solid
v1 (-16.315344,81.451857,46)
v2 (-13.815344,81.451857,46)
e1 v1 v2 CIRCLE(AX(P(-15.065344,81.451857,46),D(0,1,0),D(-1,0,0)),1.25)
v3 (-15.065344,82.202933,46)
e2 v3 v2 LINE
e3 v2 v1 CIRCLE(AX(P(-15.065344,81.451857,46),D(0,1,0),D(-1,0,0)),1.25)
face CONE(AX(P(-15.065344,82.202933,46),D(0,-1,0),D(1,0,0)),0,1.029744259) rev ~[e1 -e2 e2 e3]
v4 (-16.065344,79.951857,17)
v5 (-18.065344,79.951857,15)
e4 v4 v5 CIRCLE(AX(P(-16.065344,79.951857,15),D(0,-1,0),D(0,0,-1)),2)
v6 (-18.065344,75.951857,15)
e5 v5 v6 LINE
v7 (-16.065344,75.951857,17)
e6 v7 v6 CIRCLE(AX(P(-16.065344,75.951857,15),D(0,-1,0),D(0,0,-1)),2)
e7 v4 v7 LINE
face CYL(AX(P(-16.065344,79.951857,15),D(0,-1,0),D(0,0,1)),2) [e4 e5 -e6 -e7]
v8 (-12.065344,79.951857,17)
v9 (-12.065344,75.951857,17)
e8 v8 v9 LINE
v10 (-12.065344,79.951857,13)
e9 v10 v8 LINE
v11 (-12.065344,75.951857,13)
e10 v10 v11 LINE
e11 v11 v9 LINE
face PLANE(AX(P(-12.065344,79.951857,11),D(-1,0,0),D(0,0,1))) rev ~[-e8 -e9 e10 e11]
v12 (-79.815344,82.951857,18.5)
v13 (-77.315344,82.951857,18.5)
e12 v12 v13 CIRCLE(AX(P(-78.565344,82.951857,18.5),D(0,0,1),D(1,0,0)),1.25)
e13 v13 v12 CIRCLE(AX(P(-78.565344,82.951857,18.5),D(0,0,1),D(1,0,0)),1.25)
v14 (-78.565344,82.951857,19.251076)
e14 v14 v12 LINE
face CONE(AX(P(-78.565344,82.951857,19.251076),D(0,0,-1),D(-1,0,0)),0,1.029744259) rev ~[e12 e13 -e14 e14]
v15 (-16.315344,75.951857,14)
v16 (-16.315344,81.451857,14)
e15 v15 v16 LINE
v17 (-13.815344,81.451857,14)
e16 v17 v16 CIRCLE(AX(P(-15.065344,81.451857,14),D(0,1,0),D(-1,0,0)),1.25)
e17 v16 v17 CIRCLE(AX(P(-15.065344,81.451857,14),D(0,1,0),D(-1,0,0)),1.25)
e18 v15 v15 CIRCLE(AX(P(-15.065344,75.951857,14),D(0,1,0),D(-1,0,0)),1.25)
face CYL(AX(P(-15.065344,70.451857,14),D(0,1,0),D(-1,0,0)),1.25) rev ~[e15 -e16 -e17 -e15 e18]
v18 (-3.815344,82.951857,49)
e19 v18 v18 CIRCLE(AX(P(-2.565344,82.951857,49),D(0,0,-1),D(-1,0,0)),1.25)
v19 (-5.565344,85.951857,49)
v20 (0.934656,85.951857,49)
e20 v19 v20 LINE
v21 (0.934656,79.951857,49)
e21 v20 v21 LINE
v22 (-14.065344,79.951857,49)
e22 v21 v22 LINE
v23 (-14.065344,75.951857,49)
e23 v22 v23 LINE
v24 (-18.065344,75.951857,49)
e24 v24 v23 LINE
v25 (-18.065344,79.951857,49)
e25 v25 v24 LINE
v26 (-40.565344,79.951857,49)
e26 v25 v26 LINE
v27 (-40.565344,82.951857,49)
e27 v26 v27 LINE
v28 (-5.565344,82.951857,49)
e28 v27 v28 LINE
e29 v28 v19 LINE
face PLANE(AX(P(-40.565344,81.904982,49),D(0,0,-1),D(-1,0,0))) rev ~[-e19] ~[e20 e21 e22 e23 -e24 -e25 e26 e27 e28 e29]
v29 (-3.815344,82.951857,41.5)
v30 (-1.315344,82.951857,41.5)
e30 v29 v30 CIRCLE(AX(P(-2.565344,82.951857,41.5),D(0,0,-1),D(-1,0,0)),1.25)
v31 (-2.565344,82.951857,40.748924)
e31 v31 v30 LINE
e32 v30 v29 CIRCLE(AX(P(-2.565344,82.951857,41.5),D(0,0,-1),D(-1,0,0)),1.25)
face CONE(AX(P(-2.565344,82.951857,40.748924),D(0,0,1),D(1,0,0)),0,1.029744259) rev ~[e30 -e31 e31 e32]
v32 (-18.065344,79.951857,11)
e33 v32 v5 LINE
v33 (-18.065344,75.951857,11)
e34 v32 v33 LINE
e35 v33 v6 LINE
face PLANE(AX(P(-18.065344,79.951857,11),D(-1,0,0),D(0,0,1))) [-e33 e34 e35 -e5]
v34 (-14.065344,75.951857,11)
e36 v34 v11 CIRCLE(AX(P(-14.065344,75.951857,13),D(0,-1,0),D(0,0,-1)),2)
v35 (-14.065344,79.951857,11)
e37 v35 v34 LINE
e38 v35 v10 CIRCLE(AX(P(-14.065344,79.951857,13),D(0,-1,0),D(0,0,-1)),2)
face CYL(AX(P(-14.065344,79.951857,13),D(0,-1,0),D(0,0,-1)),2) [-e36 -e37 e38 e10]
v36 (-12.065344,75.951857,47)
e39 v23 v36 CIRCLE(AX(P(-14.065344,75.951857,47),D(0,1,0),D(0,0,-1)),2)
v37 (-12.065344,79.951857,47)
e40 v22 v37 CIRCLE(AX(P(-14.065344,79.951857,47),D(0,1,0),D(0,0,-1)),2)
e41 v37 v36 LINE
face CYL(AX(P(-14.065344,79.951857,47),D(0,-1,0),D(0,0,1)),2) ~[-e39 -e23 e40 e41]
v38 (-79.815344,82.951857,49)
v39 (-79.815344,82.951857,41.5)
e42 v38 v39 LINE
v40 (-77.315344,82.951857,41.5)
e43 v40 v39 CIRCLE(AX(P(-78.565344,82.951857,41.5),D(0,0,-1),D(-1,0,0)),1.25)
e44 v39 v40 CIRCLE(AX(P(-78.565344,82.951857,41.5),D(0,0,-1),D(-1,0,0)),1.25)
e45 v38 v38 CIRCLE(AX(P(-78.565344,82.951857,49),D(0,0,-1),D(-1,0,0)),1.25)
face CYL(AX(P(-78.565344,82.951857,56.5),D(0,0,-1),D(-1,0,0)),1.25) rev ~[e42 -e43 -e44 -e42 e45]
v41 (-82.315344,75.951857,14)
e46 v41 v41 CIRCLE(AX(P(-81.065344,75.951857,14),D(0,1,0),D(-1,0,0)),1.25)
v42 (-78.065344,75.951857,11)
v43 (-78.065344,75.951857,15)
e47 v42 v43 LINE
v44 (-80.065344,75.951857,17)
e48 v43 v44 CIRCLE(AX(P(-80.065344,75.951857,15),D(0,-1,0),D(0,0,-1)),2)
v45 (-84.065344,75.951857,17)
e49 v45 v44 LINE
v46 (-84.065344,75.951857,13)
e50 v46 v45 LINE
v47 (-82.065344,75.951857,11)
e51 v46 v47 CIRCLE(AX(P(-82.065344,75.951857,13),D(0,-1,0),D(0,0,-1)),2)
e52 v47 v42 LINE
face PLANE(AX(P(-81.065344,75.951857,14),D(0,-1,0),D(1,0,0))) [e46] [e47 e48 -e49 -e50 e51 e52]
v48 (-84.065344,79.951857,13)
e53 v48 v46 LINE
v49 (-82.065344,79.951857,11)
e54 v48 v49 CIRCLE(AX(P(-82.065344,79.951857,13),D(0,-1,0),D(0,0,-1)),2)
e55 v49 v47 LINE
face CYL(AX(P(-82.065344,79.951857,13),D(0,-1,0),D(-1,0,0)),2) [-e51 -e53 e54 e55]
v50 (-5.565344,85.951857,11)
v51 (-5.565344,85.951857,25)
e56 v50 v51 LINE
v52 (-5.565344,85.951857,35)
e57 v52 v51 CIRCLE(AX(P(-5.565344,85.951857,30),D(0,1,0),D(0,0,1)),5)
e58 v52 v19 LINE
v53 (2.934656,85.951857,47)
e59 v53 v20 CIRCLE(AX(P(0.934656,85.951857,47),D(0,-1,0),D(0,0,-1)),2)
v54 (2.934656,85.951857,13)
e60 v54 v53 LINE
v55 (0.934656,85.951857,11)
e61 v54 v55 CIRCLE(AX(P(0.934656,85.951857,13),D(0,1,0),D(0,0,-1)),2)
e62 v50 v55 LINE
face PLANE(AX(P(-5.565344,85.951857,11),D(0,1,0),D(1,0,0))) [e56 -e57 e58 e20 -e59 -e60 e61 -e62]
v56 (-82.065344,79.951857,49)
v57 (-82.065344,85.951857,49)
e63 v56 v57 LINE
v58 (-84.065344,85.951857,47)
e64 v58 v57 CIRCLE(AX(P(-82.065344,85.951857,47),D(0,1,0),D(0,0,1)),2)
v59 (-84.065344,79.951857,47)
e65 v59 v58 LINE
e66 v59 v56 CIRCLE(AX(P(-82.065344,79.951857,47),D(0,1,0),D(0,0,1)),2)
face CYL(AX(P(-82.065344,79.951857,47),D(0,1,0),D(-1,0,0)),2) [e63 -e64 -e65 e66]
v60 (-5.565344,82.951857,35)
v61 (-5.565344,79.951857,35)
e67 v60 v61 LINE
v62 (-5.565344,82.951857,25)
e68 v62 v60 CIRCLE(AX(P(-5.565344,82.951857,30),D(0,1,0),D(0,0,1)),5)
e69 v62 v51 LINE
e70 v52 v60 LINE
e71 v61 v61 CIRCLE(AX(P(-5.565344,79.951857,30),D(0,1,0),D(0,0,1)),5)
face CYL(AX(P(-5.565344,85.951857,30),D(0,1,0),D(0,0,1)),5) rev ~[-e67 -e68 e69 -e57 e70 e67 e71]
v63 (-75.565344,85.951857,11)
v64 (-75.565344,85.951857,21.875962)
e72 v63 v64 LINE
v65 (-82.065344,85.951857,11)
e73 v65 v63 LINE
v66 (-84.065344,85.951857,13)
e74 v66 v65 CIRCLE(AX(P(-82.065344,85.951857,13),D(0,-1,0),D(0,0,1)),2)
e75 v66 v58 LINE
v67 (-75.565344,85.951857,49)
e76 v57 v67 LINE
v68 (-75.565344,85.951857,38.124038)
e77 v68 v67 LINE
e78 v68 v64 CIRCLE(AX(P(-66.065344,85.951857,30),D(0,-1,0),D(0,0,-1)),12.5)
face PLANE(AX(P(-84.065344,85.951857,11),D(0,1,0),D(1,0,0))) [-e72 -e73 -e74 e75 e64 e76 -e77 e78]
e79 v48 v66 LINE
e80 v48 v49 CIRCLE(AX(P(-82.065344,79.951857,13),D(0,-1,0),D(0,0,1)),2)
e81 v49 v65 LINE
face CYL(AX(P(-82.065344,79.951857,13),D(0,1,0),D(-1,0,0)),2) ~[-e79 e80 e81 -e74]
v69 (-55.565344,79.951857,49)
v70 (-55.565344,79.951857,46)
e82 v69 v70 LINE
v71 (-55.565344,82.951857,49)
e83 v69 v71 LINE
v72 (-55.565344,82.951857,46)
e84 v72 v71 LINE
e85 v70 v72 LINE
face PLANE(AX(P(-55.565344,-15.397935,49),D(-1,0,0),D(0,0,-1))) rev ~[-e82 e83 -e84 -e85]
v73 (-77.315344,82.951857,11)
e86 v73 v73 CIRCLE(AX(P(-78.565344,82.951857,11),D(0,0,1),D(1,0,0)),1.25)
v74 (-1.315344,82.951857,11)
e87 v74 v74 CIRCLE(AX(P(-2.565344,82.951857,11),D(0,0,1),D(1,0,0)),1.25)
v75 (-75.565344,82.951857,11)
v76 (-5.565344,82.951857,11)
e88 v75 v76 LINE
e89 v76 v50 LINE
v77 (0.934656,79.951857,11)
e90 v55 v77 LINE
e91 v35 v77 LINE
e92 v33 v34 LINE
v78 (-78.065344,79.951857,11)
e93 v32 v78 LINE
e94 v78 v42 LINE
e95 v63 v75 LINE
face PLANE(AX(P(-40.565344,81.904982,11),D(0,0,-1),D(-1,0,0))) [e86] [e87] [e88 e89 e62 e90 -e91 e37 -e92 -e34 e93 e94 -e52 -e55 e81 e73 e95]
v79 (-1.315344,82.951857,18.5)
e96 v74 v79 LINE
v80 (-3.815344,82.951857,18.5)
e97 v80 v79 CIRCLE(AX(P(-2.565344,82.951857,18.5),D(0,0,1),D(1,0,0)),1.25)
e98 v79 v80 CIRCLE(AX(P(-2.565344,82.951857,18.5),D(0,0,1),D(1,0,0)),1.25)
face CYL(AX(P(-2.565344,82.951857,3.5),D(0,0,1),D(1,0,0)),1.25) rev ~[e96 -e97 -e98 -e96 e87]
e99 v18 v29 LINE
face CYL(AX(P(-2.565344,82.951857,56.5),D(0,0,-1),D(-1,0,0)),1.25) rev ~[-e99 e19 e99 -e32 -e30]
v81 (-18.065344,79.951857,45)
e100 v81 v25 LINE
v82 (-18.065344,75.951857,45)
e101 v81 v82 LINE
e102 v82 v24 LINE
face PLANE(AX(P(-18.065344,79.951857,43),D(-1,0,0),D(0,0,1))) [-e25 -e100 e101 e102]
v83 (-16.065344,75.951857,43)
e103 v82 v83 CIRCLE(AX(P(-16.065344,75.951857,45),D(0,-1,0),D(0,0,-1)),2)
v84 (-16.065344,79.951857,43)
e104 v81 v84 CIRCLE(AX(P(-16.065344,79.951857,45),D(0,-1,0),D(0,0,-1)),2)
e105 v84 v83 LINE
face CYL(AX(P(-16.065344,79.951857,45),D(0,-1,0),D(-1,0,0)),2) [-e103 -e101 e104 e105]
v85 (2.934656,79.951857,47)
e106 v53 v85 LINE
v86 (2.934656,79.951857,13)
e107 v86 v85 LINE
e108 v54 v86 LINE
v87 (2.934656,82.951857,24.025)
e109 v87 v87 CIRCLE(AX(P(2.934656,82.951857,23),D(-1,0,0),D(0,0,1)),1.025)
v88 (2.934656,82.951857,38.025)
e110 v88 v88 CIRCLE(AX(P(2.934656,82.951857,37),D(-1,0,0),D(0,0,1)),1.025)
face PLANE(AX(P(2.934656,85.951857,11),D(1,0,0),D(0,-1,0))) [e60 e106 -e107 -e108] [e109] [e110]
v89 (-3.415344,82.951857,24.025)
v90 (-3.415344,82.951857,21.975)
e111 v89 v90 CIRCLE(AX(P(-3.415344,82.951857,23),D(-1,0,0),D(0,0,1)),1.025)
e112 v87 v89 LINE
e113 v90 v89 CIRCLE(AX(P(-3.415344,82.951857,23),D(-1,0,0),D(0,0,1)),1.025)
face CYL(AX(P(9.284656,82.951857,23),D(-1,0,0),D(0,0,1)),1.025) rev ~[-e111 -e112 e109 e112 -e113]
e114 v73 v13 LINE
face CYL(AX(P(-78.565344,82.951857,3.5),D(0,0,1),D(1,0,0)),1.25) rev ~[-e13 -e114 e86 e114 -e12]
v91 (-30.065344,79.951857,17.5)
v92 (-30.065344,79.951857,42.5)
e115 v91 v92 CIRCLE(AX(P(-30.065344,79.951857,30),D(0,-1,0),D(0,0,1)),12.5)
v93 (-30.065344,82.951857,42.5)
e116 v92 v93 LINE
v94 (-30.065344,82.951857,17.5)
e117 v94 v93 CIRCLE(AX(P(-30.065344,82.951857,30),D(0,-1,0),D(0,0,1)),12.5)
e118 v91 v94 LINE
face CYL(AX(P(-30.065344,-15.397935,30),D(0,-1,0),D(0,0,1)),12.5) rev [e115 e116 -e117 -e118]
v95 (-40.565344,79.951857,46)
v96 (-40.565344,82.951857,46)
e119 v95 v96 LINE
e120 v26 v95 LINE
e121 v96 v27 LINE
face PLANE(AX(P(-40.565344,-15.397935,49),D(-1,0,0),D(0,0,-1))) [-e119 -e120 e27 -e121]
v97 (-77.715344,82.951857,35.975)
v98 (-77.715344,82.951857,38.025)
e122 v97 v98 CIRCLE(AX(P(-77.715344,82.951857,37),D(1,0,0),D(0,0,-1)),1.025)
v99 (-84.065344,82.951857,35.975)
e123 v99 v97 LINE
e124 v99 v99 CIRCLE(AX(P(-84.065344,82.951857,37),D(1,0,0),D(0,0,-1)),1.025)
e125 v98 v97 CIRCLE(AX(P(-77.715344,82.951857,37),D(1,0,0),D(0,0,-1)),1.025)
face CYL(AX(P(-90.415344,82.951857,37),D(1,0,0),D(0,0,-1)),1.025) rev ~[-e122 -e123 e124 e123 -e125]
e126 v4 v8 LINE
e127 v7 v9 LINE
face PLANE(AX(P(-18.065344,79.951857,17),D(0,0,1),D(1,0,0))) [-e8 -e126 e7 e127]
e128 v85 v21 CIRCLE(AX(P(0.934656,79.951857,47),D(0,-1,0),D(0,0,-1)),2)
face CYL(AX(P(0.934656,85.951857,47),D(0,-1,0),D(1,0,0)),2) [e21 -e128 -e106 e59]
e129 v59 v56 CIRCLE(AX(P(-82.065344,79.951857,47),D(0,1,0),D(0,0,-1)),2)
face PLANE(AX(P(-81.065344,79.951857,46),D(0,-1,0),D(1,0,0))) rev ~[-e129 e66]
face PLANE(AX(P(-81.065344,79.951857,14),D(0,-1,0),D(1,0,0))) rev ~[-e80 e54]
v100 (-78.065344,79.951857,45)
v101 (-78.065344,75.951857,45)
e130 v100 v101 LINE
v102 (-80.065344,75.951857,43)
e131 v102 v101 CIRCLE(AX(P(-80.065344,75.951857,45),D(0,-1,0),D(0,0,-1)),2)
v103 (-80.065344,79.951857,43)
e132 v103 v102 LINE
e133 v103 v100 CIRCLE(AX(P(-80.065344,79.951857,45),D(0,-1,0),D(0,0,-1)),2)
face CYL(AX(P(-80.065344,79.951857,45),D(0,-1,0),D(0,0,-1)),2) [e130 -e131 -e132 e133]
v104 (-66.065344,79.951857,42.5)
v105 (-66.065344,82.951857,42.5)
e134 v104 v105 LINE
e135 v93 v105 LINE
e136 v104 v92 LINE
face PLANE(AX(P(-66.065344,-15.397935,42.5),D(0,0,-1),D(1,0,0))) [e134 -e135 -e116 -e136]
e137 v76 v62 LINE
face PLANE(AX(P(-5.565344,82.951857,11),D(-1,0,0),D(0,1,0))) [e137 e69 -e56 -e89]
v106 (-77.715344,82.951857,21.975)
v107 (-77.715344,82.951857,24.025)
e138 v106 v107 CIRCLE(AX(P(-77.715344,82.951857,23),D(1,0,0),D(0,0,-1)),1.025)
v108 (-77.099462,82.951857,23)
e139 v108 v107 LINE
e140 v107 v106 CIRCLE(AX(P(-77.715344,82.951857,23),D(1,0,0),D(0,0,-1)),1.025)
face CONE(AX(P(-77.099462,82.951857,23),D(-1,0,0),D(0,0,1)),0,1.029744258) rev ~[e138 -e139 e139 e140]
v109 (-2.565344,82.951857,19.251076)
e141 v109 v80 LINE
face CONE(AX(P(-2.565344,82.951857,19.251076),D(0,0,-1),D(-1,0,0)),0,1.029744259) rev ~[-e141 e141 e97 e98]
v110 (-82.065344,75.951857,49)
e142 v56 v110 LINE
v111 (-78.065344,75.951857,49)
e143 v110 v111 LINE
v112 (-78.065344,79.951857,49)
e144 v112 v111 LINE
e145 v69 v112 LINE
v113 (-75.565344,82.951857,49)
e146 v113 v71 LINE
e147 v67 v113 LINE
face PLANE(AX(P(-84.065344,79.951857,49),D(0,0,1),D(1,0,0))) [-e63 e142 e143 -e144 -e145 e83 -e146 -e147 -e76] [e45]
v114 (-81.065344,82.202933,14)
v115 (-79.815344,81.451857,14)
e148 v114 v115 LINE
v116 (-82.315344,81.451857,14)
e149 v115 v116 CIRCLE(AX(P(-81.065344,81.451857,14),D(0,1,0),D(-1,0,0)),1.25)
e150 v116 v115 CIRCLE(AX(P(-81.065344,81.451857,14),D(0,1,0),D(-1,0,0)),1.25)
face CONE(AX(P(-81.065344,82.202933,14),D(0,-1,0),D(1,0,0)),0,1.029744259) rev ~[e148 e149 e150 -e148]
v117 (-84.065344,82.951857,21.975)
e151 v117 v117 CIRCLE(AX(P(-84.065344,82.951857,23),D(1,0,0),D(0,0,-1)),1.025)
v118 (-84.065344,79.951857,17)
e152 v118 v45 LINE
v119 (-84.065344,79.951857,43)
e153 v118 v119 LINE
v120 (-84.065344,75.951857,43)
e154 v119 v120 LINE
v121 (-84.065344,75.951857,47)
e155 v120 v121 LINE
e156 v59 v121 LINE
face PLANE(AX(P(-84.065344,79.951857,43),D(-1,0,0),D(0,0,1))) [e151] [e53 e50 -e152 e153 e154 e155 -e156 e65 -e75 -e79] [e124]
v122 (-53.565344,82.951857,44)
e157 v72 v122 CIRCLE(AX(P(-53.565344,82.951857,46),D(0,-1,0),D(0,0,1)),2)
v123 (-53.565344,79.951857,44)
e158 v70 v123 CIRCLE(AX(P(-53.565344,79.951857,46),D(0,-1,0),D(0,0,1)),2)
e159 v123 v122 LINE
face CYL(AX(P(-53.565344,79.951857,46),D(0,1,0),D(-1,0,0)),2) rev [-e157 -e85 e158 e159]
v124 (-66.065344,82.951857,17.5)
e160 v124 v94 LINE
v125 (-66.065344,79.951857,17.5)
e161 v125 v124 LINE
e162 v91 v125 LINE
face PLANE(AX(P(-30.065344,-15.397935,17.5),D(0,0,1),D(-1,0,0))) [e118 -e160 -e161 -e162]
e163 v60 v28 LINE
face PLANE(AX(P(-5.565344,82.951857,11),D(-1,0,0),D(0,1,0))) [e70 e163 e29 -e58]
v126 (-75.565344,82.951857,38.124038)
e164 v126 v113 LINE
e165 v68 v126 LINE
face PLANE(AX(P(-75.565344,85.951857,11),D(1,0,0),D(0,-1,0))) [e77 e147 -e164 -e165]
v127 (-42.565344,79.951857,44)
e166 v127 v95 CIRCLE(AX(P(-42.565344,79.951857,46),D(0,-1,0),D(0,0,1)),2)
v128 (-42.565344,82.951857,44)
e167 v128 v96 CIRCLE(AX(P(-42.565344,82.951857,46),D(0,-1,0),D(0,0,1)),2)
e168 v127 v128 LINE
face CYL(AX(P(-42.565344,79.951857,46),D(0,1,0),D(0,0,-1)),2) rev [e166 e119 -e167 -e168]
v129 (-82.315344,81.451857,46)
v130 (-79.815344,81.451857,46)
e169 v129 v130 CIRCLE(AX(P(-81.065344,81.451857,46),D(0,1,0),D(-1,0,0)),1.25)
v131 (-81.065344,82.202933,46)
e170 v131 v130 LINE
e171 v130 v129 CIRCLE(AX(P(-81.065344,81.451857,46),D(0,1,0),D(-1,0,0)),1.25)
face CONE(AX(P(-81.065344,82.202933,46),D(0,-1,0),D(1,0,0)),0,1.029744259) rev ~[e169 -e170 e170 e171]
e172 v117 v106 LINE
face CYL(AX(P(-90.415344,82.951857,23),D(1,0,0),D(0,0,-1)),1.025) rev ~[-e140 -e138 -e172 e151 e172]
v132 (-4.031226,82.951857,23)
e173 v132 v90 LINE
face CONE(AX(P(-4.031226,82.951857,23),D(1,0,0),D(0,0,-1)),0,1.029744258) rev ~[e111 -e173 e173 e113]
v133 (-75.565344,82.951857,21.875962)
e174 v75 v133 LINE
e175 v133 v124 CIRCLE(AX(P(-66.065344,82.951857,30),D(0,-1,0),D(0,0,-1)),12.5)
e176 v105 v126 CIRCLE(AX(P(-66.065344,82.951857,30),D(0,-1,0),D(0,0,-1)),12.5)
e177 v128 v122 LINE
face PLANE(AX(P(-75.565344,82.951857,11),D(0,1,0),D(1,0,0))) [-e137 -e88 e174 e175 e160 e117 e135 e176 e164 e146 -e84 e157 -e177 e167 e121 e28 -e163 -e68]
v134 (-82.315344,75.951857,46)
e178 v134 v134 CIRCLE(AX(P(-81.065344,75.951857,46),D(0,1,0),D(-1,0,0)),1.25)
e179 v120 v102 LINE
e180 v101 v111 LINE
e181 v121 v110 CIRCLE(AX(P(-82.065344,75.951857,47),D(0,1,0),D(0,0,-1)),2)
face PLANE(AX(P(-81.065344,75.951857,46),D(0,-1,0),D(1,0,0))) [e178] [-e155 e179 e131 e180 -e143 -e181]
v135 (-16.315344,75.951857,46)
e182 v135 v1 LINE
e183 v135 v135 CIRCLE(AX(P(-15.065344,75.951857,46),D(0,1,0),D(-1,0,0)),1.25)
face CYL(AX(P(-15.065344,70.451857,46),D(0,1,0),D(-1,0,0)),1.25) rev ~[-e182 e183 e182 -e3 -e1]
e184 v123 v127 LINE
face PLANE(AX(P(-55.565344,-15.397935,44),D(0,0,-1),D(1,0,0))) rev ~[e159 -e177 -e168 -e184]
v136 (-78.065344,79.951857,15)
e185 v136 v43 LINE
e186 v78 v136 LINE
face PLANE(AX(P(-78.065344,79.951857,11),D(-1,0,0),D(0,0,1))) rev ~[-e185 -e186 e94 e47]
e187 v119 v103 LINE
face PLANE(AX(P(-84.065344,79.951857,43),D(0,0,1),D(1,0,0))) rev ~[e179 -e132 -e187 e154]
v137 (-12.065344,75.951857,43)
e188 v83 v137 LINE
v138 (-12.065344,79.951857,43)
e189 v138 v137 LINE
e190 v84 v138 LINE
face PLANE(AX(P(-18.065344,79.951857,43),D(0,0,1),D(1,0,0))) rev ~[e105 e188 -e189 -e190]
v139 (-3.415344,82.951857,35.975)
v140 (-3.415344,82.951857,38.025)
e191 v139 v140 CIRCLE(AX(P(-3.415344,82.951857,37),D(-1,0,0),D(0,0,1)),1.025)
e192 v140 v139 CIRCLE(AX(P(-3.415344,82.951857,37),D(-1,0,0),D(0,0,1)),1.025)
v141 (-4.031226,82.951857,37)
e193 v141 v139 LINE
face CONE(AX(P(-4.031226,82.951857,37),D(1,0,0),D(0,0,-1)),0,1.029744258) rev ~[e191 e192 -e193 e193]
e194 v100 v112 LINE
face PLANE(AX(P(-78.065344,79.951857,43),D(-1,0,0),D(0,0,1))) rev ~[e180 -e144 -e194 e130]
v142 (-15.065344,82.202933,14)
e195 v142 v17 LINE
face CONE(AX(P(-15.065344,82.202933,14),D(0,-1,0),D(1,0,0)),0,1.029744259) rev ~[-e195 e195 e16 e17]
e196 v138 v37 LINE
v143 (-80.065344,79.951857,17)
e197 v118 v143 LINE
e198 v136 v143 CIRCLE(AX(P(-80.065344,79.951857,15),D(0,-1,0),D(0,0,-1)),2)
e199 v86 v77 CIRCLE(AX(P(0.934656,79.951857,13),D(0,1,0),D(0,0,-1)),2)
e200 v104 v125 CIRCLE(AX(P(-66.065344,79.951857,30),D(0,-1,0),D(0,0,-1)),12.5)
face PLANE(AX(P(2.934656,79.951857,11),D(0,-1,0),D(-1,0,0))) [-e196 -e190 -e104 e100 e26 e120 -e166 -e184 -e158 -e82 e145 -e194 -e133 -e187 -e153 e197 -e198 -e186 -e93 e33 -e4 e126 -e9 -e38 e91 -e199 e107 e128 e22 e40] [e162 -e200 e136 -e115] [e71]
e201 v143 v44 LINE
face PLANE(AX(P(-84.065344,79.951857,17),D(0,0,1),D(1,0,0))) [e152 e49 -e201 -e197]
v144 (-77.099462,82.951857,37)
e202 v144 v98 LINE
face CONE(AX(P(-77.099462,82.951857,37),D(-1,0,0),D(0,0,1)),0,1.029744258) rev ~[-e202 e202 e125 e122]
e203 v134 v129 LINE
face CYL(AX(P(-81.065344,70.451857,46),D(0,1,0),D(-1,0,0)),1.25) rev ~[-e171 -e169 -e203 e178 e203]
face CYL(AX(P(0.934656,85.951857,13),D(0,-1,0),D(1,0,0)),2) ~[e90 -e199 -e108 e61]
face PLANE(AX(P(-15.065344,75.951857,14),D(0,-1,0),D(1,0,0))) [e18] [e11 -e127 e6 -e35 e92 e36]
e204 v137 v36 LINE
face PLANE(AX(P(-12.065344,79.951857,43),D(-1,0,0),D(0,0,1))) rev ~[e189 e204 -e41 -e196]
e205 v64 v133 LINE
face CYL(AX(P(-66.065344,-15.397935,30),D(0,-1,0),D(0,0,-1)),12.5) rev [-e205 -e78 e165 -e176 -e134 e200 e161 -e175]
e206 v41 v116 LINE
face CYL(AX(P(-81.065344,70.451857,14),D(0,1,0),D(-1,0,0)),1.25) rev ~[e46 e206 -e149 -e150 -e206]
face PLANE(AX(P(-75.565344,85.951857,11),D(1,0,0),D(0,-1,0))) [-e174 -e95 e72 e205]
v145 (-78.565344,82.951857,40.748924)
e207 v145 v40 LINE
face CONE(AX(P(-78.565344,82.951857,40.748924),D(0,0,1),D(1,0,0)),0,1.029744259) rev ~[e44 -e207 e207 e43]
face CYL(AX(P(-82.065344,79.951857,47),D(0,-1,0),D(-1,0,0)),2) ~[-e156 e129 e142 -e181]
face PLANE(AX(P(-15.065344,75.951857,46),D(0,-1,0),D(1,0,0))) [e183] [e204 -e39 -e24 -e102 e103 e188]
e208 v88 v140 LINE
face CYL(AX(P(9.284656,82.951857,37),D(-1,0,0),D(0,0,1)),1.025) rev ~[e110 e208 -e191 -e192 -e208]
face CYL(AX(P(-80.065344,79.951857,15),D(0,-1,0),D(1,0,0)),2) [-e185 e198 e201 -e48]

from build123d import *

# Parameters (mm, degrees)
BOSS_EXTRUDE1_DEPTH          = 38
FILLET3_R                    = 2
CUT_EXTRUDE1_DEPTH           = 98.349792201
CUT_EXTRUDE1_DEPTH_BACK      = 98.349792201
SKETCH3_W                    = 15
SKETCH3_H                    = 5
M3X0_5_TAPPED_HOLE3_D        = 2.5
M3X0_5_TAPPED_HOLE3_DEPTH    = 7.5
M3X0_5_TAPPED_HOLE3_TIP      = 0.751075774
M3X0_5_TAPPED_HOLE4_D        = 2.5
M3X0_5_TAPPED_HOLE4_DEPTH    = 7.5
M3X0_5_TAPPED_HOLE4_TIP      = 0.751075774
M2_5X0_45_TAPPED_HOLE1_D     = 2.05
M2_5X0_45_TAPPED_HOLE1_DEPTH = 6.35
M2_5X0_45_TAPPED_HOLE1_TIP   = 0.615882135
M2_5X0_45_TAPPED_HOLE2_D     = 2.05
M2_5X0_45_TAPPED_HOLE2_DEPTH = 6.35
M2_5X0_45_TAPPED_HOLE2_TIP   = 0.615882135
SKETCH14_R                   = 5
CUT_EXTRUDE2_DEPTH           = 98.488368751
SKETCH16_W                   = 6
SKETCH16_H                   = 6
BOSS_EXTRUDE2_DEPTH          = 4
FILLET4_R                    = 2
M3X0_5_TAPPED_HOLE5_D        = 2.5
M3X0_5_TAPPED_HOLE5_DEPTH    = 5.5
M3X0_5_TAPPED_HOLE5_TIP      = 0.751075774


with BuildPart() as part:
    # Sketch2 → Boss-Extrude1 (new body)
    with BuildSketch(Plane.XY.offset(11)):
        Polygon((-84.06534388, 85.95185693), (-75.56534388, 85.95185693), (-75.56534388, 82.95185693), (-5.56534388, 82.95185693), (-5.56534388, 85.95185693), (2.93465612, 85.95185693), (2.93465612, 79.95185693), (-84.06534388, 79.95185693), align=None)
    extrude(amount=BOSS_EXTRUDE1_DEPTH)

    # Fillet3
    fillet3_edges = [part.edges().sort_by_distance(p)[0] for p in [
        (2.93465612, 82.95185693, 49),
        (-84.06534388, 82.95185693, 11),
        (-84.06534388, 82.95185693, 49),
        (2.93465612, 82.95185693, 11),
    ]]
    fillet(fillet3_edges, radius=FILLET3_R)

    # Sketch3 → Cut-Extrude1 (cut, two sides: drawn at the far end of the back side and taken through both)
    with BuildSketch(Plane(origin=(0, 82.95185693, 0), x_dir=(1, 0, 0), z_dir=(0, 1, 0)).offset(-CUT_EXTRUDE1_DEPTH_BACK)):
        with BuildLine():
            Line((-66.06534388, -42.5), (-30.06534388, -42.5))
            ThreePointArc((-30.06534388, -42.5), (-17.56534388, -30), (-30.06534388, -17.5))
            Line((-30.06534388, -17.5), (-66.06534388, -17.5))
            ThreePointArc((-66.06534388, -17.5), (-78.56534388, -30), (-66.06534388, -42.5))
        make_face()
        with Locations((-48.06534388, -46.5)):
            Rectangle(SKETCH3_W, SKETCH3_H)
    extrude(amount=CUT_EXTRUDE1_DEPTH + CUT_EXTRUDE1_DEPTH_BACK, mode=Mode.SUBTRACT)

    # M3x0.5 Tapped Hole3
    with Locations(Plane.XY.offset(49)):
        with Locations((-78.56534388, 82.95185693), (-2.56534388, 82.95185693)):
            Hole(M3X0_5_TAPPED_HOLE3_D / 2, depth=M3X0_5_TAPPED_HOLE3_DEPTH)
            with Locations((0, 0, -(M3X0_5_TAPPED_HOLE3_DEPTH + M3X0_5_TAPPED_HOLE3_TIP / 2))):  # 118° drill point
                Cone(0, M3X0_5_TAPPED_HOLE3_D / 2, M3X0_5_TAPPED_HOLE3_TIP, mode=Mode.SUBTRACT)

    # M3x0.5 Tapped Hole4
    with Locations(Plane(origin=(0, 0, 11), x_dir=(-1, 0, 0), z_dir=(0, 0, -1))):
        with Locations((2.56534388, 82.95185693), (78.56534388, 82.95185693)):
            Hole(M3X0_5_TAPPED_HOLE4_D / 2, depth=M3X0_5_TAPPED_HOLE4_DEPTH)
            with Locations((0, 0, -(M3X0_5_TAPPED_HOLE4_DEPTH + M3X0_5_TAPPED_HOLE4_TIP / 2))):  # 118° drill point
                Cone(0, M3X0_5_TAPPED_HOLE4_D / 2, M3X0_5_TAPPED_HOLE4_TIP, mode=Mode.SUBTRACT)

    # M2.5x0.45 Tapped Hole1
    with Locations(Plane.ZY.offset(84.06534388)):
        with Locations((23, 82.95185693), (37, 82.95185693)):
            Hole(M2_5X0_45_TAPPED_HOLE1_D / 2, depth=M2_5X0_45_TAPPED_HOLE1_DEPTH)
            with Locations((0, 0, -(M2_5X0_45_TAPPED_HOLE1_DEPTH + M2_5X0_45_TAPPED_HOLE1_TIP / 2))):  # 118° drill point
                Cone(0, M2_5X0_45_TAPPED_HOLE1_D / 2, M2_5X0_45_TAPPED_HOLE1_TIP, mode=Mode.SUBTRACT)

    # M2.5x0.45 Tapped Hole2
    with Locations(Plane(origin=(2.93465612, 0, 0), x_dir=(0, 0, -1), z_dir=(1, 0, 0))):
        with Locations((-37, 82.95185693), (-23, 82.95185693)):
            Hole(M2_5X0_45_TAPPED_HOLE2_D / 2, depth=M2_5X0_45_TAPPED_HOLE2_DEPTH)
            with Locations((0, 0, -(M2_5X0_45_TAPPED_HOLE2_DEPTH + M2_5X0_45_TAPPED_HOLE2_TIP / 2))):  # 118° drill point
                Cone(0, M2_5X0_45_TAPPED_HOLE2_D / 2, M2_5X0_45_TAPPED_HOLE2_TIP, mode=Mode.SUBTRACT)

    # Sketch14 → Cut-Extrude2 (cut, through all)
    with BuildSketch(Plane(origin=(0, 85.95185693, 0), x_dir=(1, 0, 0), z_dir=(0, 1, 0))):
        with Locations(Location((-5.56534388, -30, 0), (0, 0, 270))):
            Circle(SKETCH14_R)
    extrude(amount=-CUT_EXTRUDE2_DEPTH, mode=Mode.SUBTRACT)

    # Sketch16 → Boss-Extrude2 (add)
    with BuildSketch(Plane.XZ.offset(-79.95185693)):
        with Locations((-81.06534388, 46)):
            Rectangle(SKETCH16_W, SKETCH16_H)
        with Locations((-81.06534388, 14)):
            Rectangle(SKETCH16_W, SKETCH16_H)
        with Locations((-15.06534388, 46)):
            Rectangle(SKETCH16_W, SKETCH16_H)
        with Locations((-15.06534388, 14)):
            Rectangle(SKETCH16_W, SKETCH16_H)
    extrude(amount=BOSS_EXTRUDE2_DEPTH)

    # Fillet4
    fillet4_edges = [part.edges().sort_by_distance(p)[0] for p in [
        (-12.06534388, 77.95185693, 11),
        (-84.06534388, 77.95185693, 11),
        (-84.06534388, 77.95185693, 49),
        (-78.06534388, 77.95185693, 43),
        (-78.06534388, 77.95185693, 17),
        (-18.06534388, 77.95185693, 17),
        (-18.06534388, 77.95185693, 43),
        (-12.06534388, 77.95185693, 49),
        (-40.56534388, 81.45185693, 44),
        (-55.56534388, 81.45185693, 44),
    ]]
    fillet(fillet4_edges, radius=FILLET4_R)

    # M3x0.5 Tapped Hole5
    with Locations(Plane.XZ.offset(-75.95185693)):
        with Locations((-81.06534388, 46), (-81.06534388, 14), (-15.06534388, 14), (-15.06534388, 46)):
            Hole(M3X0_5_TAPPED_HOLE5_D / 2, depth=M3X0_5_TAPPED_HOLE5_DEPTH)
            with Locations((0, 0, -(M3X0_5_TAPPED_HOLE5_DEPTH + M3X0_5_TAPPED_HOLE5_TIP / 2))):  # 118° drill point
                Cone(0, M3X0_5_TAPPED_HOLE5_D / 2, M3X0_5_TAPPED_HOLE5_TIP, mode=Mode.SUBTRACT)


solid = part.part
